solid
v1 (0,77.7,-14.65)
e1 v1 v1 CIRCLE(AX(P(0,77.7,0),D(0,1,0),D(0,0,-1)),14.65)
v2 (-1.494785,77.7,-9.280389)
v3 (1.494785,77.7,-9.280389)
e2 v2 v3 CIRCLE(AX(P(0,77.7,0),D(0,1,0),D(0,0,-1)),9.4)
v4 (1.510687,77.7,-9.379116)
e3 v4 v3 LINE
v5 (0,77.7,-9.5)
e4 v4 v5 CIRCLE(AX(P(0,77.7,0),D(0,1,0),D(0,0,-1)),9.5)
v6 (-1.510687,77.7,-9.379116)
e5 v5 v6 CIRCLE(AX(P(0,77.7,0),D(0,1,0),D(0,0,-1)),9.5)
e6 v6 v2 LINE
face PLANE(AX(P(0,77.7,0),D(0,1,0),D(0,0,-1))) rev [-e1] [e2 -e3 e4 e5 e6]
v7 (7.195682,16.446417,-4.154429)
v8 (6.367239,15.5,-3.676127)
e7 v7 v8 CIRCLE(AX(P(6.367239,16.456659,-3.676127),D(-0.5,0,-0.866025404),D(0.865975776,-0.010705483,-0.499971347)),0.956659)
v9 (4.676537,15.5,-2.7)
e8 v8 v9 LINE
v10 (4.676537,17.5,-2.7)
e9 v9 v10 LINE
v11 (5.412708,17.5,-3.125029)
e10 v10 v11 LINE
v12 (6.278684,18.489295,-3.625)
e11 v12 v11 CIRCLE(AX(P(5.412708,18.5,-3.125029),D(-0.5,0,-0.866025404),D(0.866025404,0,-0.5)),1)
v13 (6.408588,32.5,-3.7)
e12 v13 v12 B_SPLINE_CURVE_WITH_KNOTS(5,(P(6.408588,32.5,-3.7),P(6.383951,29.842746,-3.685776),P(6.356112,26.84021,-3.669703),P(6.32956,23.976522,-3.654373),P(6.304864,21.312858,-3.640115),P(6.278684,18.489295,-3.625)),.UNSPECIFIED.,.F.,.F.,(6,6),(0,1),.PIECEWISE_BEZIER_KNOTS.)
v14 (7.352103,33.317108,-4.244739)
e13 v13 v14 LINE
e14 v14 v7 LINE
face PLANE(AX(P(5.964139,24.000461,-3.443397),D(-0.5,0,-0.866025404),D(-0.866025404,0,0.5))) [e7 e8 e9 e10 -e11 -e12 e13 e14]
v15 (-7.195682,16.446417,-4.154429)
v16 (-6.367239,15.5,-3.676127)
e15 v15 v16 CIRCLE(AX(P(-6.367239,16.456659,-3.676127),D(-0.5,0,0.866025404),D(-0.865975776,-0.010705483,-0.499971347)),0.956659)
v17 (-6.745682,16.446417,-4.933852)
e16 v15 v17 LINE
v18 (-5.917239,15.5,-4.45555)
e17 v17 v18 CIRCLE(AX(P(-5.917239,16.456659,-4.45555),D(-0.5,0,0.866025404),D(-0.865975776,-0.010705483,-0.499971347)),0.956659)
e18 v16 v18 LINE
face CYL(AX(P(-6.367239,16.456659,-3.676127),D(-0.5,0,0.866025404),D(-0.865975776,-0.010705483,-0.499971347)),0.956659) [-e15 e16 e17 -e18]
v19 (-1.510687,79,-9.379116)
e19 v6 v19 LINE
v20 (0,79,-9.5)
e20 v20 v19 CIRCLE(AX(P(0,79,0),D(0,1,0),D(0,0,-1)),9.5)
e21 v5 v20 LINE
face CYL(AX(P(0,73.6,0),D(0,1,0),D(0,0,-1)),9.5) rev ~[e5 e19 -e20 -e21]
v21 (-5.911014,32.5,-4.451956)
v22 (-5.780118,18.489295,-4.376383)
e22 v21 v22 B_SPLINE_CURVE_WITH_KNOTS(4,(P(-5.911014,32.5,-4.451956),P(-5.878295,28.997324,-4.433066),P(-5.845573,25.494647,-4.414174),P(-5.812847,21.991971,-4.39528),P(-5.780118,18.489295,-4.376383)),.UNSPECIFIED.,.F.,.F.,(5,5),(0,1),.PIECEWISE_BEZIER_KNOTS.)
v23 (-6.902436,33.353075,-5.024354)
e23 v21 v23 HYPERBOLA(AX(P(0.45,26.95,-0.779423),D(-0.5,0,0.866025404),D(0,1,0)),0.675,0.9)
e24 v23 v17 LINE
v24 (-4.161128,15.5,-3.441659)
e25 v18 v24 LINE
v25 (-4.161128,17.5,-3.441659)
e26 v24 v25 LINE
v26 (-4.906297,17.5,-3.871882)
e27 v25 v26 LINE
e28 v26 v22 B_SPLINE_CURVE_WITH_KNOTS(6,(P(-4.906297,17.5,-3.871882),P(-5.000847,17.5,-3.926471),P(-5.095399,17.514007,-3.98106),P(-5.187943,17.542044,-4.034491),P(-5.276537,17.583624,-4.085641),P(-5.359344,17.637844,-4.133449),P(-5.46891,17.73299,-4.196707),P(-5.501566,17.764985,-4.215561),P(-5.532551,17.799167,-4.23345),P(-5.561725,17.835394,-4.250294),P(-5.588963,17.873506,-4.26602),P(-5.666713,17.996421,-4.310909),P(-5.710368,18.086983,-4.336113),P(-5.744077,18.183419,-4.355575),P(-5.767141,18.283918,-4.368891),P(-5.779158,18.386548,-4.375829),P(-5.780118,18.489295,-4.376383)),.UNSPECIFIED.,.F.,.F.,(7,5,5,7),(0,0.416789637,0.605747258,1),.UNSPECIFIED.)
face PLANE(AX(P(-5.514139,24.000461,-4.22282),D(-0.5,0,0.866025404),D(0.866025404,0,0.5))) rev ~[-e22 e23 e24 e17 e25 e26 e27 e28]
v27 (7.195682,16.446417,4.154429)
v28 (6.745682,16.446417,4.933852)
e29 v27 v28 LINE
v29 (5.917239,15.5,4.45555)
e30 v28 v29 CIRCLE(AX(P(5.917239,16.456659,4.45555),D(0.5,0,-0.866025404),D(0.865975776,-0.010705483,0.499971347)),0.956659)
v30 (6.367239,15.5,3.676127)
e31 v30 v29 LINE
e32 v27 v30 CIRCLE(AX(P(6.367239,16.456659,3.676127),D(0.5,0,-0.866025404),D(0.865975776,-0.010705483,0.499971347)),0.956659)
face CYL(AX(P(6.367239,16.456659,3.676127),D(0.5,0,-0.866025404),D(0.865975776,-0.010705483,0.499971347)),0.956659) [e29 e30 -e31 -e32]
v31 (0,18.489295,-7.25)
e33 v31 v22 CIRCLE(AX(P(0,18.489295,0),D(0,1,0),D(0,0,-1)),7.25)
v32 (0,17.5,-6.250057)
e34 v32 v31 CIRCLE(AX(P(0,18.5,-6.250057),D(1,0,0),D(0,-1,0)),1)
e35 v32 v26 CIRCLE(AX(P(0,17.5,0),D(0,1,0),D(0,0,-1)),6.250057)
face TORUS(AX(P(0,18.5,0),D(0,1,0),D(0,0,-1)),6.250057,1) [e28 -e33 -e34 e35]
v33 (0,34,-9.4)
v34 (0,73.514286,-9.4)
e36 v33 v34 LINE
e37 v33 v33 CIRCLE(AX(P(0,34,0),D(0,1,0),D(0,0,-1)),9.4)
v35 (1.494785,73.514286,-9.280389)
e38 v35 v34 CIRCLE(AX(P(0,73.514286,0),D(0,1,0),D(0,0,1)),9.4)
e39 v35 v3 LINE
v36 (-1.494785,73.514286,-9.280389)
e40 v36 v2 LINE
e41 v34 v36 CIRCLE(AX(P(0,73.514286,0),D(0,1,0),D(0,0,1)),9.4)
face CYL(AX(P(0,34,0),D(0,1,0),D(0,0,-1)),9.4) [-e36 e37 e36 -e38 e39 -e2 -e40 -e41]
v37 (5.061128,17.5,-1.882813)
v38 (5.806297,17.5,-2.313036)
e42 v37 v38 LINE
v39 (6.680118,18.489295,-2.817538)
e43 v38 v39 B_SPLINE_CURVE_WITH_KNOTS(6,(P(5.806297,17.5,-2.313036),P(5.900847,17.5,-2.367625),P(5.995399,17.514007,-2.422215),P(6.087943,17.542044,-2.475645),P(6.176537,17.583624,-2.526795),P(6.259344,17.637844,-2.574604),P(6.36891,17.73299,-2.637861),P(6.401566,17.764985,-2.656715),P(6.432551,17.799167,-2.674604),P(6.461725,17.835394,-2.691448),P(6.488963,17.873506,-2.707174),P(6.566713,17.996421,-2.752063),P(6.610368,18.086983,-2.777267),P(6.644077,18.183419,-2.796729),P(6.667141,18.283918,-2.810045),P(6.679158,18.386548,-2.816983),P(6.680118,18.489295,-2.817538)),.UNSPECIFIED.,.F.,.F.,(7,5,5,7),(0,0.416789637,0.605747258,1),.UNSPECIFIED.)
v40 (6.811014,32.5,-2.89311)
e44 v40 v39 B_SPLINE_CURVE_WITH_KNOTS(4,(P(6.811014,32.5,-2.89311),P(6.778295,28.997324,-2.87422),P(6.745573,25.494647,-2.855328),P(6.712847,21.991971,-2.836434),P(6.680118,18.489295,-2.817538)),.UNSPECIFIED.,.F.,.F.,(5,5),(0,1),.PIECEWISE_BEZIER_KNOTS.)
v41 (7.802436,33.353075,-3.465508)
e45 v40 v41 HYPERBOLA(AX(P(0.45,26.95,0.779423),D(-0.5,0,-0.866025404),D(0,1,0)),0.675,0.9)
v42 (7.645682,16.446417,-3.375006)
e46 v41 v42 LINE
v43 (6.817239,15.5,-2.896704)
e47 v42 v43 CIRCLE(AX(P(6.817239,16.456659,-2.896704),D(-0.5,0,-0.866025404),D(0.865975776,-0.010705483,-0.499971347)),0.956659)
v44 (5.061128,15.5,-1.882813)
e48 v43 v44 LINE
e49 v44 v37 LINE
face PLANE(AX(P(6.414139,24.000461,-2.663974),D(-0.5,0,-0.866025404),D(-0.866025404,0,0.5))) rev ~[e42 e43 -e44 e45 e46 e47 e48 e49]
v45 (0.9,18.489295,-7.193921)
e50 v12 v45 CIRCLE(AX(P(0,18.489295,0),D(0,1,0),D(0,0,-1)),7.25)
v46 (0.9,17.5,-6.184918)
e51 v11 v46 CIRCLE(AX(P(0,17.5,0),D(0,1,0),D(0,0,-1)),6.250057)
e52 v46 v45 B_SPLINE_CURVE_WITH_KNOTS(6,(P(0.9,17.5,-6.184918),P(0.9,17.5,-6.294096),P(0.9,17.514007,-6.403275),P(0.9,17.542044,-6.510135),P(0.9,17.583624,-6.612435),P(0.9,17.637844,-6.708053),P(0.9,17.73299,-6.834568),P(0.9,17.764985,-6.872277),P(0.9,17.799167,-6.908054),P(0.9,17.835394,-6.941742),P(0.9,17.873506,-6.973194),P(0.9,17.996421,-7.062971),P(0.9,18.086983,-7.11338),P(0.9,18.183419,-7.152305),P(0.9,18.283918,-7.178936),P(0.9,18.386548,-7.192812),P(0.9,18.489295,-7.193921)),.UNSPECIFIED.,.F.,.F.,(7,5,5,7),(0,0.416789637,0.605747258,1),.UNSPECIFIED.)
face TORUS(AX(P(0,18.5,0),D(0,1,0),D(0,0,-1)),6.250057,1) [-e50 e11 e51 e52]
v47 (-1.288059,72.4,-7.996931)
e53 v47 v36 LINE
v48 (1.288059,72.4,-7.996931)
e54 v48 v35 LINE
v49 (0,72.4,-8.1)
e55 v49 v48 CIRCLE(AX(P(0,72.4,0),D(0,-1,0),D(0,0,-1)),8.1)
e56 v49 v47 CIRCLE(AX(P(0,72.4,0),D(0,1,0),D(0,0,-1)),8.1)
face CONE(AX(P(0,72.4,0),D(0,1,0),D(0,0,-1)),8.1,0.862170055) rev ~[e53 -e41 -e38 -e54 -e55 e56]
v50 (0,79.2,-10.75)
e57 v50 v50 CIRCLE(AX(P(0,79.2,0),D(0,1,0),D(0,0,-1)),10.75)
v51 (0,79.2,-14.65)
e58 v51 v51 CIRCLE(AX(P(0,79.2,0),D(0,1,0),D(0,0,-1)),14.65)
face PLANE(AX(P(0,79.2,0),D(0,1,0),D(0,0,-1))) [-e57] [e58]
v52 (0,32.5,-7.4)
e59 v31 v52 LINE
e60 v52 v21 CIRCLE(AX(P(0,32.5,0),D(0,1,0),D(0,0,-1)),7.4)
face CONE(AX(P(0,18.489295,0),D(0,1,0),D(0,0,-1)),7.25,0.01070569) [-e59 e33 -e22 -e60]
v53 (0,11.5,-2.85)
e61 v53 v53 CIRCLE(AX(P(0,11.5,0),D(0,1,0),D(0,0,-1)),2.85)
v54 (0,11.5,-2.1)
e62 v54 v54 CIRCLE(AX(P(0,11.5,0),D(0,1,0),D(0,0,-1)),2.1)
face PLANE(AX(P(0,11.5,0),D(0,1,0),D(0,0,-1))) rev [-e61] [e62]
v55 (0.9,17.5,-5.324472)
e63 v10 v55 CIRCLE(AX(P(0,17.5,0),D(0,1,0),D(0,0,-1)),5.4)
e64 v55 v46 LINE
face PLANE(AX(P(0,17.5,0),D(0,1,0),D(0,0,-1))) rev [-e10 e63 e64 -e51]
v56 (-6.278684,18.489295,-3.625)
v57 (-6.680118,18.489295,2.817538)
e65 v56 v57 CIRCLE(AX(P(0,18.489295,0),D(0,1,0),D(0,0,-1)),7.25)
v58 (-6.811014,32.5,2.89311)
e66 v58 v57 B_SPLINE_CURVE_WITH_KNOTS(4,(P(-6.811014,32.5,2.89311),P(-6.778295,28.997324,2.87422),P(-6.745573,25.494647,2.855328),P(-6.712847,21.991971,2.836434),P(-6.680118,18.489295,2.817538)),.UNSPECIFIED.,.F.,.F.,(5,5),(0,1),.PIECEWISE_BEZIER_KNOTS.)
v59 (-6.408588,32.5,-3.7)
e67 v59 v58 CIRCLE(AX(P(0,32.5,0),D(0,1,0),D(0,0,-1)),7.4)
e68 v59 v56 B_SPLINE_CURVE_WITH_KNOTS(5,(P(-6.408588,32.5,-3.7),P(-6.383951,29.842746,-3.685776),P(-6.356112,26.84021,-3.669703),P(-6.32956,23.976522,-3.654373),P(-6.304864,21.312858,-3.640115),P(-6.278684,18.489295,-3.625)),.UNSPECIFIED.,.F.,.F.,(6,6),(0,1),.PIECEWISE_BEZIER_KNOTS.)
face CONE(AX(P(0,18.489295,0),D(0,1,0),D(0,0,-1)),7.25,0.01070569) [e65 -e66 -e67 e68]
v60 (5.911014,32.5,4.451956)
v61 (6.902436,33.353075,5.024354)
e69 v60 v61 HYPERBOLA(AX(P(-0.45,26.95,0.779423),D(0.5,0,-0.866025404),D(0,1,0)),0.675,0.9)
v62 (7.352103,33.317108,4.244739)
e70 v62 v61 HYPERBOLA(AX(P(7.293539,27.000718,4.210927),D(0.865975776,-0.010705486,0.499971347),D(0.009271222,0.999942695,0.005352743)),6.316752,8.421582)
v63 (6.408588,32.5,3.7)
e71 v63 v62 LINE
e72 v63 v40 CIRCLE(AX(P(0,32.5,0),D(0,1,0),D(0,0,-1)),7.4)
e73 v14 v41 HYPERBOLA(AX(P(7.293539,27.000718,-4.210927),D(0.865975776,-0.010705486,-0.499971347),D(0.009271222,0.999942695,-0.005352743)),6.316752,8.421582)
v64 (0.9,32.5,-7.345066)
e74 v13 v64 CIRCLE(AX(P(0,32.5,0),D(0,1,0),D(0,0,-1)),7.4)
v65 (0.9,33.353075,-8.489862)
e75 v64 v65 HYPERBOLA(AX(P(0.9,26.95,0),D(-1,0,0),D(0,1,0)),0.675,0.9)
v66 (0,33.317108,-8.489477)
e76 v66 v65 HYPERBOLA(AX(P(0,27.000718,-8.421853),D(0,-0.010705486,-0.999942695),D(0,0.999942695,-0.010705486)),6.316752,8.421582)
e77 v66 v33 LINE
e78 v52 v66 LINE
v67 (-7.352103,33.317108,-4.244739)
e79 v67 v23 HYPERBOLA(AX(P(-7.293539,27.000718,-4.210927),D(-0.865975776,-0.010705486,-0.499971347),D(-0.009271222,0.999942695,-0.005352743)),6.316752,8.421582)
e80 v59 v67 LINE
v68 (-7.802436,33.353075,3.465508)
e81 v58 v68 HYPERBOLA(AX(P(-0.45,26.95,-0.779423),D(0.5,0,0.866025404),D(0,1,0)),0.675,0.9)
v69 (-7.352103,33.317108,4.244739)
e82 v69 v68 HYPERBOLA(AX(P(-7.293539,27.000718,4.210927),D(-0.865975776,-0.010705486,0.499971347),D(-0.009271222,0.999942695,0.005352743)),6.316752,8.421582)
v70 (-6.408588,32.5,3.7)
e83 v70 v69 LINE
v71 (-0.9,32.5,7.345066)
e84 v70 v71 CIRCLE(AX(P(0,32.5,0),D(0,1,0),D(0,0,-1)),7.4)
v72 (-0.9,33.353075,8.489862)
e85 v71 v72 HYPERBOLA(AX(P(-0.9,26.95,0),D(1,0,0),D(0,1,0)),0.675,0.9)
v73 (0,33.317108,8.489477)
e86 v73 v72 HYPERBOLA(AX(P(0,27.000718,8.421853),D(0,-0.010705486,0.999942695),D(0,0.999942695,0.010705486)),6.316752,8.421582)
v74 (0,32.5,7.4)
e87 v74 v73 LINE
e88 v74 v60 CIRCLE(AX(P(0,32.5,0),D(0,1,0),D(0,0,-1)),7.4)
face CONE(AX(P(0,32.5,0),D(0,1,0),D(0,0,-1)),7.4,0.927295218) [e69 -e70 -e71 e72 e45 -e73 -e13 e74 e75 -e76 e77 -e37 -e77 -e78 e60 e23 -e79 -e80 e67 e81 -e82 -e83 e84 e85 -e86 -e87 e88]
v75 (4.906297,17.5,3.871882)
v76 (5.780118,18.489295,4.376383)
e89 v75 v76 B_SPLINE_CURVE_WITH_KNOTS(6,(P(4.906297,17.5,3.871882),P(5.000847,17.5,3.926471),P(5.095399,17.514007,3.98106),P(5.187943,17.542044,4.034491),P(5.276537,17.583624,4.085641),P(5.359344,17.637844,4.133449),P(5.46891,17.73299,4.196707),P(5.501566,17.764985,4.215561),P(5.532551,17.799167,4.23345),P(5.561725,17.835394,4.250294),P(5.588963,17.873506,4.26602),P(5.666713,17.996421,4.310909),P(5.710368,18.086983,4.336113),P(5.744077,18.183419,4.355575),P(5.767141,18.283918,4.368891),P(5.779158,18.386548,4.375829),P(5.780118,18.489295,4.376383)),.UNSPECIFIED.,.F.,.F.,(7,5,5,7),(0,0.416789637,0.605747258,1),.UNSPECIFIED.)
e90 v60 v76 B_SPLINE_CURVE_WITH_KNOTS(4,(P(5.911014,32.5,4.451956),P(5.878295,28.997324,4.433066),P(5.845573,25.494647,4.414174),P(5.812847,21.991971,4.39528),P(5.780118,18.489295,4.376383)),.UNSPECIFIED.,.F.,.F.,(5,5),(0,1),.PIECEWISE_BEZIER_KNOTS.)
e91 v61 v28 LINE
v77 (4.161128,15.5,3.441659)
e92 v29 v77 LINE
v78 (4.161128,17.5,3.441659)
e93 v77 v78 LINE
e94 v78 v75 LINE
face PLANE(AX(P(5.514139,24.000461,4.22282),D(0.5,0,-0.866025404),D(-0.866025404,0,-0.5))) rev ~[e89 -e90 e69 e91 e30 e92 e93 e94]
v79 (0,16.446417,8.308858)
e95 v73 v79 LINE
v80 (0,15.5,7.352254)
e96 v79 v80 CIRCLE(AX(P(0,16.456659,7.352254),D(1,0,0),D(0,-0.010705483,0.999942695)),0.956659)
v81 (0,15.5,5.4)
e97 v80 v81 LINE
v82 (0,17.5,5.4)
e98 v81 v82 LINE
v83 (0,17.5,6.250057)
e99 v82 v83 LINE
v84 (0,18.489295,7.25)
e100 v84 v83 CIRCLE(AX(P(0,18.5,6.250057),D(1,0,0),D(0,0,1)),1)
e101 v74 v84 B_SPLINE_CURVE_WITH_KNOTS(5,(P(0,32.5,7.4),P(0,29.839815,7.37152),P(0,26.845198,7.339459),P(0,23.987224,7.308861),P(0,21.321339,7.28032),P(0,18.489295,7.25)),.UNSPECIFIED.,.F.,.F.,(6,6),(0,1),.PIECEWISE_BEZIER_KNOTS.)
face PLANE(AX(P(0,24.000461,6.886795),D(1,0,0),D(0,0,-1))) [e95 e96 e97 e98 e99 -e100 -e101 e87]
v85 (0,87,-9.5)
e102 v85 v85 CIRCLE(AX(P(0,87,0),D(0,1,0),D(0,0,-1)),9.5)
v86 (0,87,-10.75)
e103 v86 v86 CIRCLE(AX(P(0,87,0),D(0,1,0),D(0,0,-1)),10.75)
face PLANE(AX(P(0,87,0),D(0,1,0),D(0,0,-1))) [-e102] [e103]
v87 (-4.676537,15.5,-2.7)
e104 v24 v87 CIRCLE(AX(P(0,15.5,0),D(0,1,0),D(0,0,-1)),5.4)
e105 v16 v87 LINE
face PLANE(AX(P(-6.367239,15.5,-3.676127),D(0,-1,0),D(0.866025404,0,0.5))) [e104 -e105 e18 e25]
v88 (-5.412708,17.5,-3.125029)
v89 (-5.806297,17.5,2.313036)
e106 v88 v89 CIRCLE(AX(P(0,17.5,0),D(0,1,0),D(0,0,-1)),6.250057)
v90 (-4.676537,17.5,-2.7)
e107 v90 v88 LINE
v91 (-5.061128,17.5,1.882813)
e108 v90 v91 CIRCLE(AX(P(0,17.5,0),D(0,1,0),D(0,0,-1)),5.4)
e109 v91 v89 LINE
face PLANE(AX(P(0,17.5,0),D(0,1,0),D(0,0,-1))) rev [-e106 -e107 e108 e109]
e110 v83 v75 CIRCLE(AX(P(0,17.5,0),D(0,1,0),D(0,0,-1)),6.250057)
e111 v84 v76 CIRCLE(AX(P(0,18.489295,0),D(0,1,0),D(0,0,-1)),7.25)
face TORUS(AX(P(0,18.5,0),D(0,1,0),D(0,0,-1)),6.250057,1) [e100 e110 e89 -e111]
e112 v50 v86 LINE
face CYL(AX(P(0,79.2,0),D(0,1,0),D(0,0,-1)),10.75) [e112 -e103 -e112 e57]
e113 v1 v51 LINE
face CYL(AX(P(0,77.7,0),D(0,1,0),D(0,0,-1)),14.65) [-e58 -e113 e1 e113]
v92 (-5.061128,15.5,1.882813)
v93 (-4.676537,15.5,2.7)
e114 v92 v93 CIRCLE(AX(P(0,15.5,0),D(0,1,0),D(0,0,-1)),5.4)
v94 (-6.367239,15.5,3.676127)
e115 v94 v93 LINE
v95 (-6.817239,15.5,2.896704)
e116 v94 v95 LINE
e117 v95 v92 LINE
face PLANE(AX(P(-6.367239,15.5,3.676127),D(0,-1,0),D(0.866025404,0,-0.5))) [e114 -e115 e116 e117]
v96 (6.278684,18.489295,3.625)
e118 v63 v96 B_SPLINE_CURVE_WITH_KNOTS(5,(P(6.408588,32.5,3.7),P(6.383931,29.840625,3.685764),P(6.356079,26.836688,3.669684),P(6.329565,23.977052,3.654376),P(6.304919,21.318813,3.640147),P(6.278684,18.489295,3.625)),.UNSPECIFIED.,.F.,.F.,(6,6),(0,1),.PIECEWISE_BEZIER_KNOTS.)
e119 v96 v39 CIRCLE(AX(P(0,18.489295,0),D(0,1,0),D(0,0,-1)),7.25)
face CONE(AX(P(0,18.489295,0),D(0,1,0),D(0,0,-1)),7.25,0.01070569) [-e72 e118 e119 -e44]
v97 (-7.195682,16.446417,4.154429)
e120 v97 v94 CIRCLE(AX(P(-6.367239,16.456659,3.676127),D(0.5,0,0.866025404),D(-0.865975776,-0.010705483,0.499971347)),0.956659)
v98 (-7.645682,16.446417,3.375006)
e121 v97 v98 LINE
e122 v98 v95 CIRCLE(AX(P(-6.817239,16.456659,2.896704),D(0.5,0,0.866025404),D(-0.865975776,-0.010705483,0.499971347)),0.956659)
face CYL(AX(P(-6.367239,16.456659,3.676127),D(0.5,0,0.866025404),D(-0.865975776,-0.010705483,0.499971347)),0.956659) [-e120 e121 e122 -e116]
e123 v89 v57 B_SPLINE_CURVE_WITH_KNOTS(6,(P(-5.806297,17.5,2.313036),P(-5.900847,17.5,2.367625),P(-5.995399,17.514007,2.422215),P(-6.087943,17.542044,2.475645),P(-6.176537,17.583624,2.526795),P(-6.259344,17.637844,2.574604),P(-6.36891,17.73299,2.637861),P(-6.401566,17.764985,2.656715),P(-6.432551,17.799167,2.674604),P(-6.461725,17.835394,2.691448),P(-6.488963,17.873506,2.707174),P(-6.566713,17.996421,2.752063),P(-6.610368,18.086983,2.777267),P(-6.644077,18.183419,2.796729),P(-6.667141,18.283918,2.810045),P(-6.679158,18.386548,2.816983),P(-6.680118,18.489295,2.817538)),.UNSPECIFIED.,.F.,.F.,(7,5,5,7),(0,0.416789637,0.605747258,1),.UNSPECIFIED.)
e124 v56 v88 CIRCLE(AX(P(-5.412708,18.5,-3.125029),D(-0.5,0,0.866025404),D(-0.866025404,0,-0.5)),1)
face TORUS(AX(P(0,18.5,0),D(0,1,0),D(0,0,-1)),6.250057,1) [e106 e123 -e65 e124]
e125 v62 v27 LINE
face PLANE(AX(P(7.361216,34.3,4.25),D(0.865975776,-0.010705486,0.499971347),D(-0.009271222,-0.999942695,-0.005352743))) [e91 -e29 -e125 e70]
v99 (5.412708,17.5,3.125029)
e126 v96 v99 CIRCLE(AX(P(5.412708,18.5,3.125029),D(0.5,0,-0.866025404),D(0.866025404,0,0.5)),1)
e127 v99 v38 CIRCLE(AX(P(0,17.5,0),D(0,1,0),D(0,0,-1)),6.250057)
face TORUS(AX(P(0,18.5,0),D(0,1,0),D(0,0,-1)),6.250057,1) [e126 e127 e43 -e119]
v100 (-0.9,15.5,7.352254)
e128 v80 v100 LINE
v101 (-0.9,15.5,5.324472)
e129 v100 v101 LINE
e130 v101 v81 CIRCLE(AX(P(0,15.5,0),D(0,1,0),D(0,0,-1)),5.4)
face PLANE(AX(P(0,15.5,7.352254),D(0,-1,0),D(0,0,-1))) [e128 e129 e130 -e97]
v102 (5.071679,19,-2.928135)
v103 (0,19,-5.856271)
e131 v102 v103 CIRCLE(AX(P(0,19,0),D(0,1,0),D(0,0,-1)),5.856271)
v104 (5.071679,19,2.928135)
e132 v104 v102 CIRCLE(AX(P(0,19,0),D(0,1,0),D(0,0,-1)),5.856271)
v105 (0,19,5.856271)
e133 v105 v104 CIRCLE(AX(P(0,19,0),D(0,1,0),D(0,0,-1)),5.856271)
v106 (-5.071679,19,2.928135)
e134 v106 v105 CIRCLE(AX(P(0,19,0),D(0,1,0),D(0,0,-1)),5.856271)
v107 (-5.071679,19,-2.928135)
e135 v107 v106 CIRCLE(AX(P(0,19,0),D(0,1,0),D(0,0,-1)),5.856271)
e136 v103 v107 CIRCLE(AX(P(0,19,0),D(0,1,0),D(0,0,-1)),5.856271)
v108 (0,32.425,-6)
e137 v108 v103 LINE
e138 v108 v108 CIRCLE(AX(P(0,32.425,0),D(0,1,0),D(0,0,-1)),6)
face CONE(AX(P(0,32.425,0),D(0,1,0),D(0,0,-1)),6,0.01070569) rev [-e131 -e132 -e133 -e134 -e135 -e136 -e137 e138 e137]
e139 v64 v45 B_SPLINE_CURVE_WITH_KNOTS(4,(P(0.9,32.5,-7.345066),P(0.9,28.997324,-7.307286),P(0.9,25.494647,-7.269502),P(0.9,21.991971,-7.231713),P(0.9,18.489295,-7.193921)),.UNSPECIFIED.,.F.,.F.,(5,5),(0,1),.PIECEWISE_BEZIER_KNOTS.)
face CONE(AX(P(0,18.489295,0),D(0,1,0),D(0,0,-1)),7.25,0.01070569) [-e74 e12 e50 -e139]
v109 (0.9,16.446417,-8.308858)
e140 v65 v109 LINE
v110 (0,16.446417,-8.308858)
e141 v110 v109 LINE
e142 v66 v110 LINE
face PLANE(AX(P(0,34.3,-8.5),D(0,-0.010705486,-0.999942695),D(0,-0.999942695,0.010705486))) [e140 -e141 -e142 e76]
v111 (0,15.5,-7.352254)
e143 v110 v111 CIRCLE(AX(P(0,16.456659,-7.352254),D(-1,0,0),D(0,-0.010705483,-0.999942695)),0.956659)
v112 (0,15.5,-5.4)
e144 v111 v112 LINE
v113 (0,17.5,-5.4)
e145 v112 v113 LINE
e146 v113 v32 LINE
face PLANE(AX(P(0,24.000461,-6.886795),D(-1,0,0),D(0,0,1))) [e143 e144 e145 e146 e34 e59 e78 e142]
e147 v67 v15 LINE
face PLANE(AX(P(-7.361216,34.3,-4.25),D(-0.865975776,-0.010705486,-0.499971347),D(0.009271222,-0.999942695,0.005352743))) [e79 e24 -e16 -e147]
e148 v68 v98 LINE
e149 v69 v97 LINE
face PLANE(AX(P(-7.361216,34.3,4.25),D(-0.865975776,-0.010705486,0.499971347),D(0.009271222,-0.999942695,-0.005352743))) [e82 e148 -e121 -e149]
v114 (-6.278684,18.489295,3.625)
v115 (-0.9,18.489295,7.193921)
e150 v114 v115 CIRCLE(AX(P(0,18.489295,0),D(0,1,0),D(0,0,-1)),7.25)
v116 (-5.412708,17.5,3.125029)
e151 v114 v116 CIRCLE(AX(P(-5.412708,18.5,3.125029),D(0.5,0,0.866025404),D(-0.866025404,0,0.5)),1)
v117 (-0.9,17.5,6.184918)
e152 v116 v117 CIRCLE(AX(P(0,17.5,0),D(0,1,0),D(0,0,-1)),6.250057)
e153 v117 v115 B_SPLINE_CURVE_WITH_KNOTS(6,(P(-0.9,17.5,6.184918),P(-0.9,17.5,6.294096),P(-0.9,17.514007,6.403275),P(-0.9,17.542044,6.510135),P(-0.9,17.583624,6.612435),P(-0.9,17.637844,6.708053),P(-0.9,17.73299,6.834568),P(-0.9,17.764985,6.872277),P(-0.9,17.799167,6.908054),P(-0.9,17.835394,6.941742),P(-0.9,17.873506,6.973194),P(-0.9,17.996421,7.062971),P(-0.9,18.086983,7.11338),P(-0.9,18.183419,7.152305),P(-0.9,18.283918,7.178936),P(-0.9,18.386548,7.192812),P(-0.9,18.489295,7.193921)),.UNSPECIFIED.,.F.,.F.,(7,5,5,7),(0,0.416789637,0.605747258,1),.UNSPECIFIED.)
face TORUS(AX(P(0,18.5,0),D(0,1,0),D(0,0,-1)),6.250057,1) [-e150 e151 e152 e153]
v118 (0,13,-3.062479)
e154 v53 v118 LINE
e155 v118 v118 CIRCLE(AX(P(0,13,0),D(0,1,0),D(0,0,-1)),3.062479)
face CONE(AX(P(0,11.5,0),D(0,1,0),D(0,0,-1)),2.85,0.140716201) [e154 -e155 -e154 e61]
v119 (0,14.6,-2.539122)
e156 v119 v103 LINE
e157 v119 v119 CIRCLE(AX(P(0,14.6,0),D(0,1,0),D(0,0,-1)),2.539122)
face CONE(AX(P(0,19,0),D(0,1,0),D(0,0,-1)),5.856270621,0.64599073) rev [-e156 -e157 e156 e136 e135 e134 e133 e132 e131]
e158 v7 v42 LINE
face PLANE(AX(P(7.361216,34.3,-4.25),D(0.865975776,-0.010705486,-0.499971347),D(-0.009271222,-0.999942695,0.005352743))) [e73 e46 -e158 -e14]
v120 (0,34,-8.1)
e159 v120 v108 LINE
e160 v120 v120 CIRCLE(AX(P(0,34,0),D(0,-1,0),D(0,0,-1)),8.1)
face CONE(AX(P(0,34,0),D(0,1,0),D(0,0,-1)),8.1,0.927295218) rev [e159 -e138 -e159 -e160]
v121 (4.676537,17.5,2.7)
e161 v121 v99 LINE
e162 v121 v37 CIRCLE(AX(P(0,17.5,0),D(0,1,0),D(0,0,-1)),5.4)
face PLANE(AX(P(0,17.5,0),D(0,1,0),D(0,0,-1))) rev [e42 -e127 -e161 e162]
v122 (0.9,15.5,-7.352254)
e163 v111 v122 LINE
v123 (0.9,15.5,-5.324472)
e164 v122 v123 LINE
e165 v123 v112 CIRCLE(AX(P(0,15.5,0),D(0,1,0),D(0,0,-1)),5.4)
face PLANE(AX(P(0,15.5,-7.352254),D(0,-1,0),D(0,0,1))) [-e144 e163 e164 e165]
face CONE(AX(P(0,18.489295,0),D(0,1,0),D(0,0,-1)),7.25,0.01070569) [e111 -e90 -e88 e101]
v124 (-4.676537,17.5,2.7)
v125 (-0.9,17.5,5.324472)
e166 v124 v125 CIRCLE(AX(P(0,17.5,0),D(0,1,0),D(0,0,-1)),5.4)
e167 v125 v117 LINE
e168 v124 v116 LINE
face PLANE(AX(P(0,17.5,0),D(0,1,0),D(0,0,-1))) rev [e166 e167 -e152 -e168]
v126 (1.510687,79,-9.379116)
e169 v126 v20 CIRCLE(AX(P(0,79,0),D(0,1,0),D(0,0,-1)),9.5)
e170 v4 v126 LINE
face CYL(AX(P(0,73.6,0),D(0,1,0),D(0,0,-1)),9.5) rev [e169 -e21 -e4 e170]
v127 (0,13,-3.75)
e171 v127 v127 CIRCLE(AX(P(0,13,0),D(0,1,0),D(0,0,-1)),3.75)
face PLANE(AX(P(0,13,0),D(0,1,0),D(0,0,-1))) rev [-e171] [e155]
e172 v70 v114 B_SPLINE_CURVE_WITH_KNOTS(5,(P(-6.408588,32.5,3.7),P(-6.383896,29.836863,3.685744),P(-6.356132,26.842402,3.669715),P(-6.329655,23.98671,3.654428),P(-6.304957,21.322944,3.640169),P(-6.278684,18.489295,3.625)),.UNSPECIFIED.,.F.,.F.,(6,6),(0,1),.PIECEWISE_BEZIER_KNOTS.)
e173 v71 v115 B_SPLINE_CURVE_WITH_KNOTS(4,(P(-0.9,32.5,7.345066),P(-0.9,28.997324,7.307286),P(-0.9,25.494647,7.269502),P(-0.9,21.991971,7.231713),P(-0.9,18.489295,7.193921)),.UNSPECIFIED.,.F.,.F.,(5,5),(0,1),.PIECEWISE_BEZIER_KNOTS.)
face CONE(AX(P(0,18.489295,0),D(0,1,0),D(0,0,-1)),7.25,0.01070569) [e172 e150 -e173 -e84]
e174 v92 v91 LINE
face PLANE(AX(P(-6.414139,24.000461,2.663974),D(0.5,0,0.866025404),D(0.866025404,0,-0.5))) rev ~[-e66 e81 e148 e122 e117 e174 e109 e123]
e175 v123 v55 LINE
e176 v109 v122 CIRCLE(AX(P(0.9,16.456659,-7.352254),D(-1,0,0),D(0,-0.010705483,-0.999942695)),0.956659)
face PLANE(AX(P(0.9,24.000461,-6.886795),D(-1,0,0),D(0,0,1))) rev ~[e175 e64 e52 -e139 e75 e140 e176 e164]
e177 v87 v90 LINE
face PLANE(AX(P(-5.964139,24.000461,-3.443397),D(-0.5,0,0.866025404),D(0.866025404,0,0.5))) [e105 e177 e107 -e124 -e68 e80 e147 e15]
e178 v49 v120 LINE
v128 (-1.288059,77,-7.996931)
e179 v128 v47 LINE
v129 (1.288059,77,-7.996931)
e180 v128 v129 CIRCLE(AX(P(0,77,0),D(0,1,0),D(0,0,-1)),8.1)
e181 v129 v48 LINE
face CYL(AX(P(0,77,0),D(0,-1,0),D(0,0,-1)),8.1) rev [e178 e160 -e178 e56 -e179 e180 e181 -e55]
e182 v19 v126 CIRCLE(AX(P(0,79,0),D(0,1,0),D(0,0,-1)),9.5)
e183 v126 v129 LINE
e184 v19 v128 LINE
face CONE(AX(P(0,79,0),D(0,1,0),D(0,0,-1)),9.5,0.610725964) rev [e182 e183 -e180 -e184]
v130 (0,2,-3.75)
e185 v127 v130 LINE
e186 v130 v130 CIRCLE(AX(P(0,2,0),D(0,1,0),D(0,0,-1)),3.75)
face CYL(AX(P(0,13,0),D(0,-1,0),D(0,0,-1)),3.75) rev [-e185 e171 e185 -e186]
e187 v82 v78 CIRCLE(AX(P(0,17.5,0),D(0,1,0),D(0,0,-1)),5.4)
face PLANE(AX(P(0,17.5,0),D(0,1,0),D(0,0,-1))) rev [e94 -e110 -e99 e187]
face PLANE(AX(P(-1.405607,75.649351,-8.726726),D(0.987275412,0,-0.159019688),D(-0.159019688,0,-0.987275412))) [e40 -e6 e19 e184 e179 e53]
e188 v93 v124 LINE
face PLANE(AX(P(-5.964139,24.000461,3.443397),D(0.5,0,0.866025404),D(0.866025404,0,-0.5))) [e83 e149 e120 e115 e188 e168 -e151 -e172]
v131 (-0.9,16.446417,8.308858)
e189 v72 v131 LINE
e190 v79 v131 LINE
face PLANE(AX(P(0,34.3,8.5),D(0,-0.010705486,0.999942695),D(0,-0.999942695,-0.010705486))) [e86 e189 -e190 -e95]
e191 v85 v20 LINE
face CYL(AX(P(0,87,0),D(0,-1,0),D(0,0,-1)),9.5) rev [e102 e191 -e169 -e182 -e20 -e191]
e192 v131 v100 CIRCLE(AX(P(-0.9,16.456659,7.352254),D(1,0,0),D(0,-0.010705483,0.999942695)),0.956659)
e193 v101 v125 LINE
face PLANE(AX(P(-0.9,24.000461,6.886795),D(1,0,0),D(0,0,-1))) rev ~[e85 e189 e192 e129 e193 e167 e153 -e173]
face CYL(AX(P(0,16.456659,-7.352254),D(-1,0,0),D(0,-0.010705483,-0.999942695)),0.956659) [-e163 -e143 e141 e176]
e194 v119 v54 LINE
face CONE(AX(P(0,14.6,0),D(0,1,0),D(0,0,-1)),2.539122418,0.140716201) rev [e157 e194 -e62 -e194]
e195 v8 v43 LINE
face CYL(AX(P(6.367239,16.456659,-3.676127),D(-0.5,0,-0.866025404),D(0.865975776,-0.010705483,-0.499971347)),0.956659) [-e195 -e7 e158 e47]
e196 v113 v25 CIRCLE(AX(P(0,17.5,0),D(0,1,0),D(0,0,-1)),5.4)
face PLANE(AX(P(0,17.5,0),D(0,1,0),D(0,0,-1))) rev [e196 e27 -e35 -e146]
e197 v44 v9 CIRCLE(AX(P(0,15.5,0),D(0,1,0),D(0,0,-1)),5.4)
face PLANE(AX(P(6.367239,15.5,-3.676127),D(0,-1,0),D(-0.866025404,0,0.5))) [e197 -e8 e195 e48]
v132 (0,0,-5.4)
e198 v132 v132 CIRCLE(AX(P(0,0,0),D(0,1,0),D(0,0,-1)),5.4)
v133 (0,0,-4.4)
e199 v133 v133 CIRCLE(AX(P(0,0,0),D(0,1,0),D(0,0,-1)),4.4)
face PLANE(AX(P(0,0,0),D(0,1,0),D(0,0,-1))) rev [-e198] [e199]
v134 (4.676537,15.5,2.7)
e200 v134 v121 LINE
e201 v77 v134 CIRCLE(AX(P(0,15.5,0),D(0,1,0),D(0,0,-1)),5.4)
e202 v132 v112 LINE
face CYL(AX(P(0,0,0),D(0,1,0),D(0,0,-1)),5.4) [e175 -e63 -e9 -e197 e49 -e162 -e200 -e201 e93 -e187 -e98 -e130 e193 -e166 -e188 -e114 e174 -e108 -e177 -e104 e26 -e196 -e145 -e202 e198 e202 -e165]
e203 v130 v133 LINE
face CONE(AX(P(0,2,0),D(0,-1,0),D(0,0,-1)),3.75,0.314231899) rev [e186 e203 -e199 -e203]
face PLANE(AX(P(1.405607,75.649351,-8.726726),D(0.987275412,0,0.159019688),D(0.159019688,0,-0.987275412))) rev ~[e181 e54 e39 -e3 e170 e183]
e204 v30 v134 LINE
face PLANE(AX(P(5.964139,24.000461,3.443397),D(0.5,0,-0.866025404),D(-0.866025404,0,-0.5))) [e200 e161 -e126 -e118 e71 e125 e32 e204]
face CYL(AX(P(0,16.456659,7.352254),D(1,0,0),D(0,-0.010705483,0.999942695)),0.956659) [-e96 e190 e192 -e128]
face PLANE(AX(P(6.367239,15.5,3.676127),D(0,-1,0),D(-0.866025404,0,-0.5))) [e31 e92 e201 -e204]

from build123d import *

# Parameters (mm, degrees)
BOSS_EXTRUDE2_DEPTH = 0.9
CIRPATTERN1_COUNT   = 6
CUT_REVOLVE2_ANGLE  = 18.3


with BuildPart() as part:
    # Sketch3 → Revolve2 (revolve)
    with BuildSketch(Plane(origin=(0, 0, 0), x_dir=(0, 0, -1), z_dir=(1, 0, 0))):
        with BuildLine():
            Line((5.4, 0), (5.4, 17.5))
            Line((5.4, 17.5), (6.250057305, 17.5))
            ThreePointArc((6.250057305, 17.5), (6.953368941, 17.789118334), (7.25, 18.489294515))
            Line((7.25, 18.489294515), (7.4, 32.5))
            Line((7.4, 32.5), (9.4, 34))
            Line((9.4, 34), (9.4, 77.7))
            Line((9.4, 77.7), (14.65, 77.7))
            Line((14.65, 77.7), (14.65, 79.2))
            Line((14.65, 79.2), (10.75, 79.2))
            Line((10.75, 79.2), (10.75, 87))
            Line((10.75, 87), (9.5, 87))
            Line((9.5, 87), (9.5, 79))
            Line((9.5, 79), (8.1, 77))
            Line((8.1, 77), (8.1, 34))
            Line((8.1, 34), (6, 32.425))
            Line((6, 32.425), (5.856270621, 19))
            Line((5.856270621, 19), (2.539122418, 14.6))
            Line((2.539122418, 14.6), (2.1, 11.5))
            Line((2.1, 11.5), (2.85, 11.5))
            Line((2.85, 11.5), (3.062478589, 13))
            Line((3.062478589, 13), (3.75, 13))
            Line((3.75, 13), (3.75, 2))
            Line((3.75, 2), (4.4, 0))
            Line((4.4, 0), (5.4, 0))
        make_face()
    revolve(axis=Axis((0, 0, 0), (0, 1, 0)))

    # Sketch4 → Boss-Extrude2 (add)
    with BuildSketch(Plane(origin=(0, 0, 0), x_dir=(0, 0, -1), z_dir=(1, 0, 0))):
        with BuildLine():
            Line((8.5, 34.3), (8.308857775, 16.446417237))
            ThreePointArc((8.308857775, 16.446417237), (8.025083083, 15.776587579), (7.352253864, 15.5))
            Line((7.352253864, 15.5), (3.217630005, 15.5))
            Line((3.217630005, 15.5), (5.856270621, 19))
            Line((5.856270621, 19), (6, 32.425))
            Line((6, 32.425), (8.5, 34.3))
        make_face()
    boss_extrude2 = extrude(amount=BOSS_EXTRUDE2_DEPTH)

    # CirPattern1: Boss-Extrude2 ×6 about axis
    cirpattern1_axis = Axis((0, 0, 0), (0, 1, 0))
    for i in range(1, CIRPATTERN1_COUNT):
        add(boss_extrude2.rotate(cirpattern1_axis, i * 360 / CIRPATTERN1_COUNT))

    # Sketch6 → Cut-Revolve2 (revolve, symmetric, cut)
    with BuildSketch(Plane(origin=(0, 0, 0), x_dir=(0, 0, -1), z_dir=(1, 0, 0))) as cut_revolve2_sk:
        Polygon((8.1, 77), (8.1, 72.4), (9.5, 73.6), (9.5, 79), align=None)
    revolve(axis=Axis((0, 0, 0), (0, 1, 0)), revolution_arc=CUT_REVOLVE2_ANGLE / 2, mode=Mode.SUBTRACT)
    revolve(cut_revolve2_sk.sketch, axis=Axis((0, 0, 0), (0, -1, 0)), revolution_arc=CUT_REVOLVE2_ANGLE / 2, mode=Mode.SUBTRACT)


solid = part.part
